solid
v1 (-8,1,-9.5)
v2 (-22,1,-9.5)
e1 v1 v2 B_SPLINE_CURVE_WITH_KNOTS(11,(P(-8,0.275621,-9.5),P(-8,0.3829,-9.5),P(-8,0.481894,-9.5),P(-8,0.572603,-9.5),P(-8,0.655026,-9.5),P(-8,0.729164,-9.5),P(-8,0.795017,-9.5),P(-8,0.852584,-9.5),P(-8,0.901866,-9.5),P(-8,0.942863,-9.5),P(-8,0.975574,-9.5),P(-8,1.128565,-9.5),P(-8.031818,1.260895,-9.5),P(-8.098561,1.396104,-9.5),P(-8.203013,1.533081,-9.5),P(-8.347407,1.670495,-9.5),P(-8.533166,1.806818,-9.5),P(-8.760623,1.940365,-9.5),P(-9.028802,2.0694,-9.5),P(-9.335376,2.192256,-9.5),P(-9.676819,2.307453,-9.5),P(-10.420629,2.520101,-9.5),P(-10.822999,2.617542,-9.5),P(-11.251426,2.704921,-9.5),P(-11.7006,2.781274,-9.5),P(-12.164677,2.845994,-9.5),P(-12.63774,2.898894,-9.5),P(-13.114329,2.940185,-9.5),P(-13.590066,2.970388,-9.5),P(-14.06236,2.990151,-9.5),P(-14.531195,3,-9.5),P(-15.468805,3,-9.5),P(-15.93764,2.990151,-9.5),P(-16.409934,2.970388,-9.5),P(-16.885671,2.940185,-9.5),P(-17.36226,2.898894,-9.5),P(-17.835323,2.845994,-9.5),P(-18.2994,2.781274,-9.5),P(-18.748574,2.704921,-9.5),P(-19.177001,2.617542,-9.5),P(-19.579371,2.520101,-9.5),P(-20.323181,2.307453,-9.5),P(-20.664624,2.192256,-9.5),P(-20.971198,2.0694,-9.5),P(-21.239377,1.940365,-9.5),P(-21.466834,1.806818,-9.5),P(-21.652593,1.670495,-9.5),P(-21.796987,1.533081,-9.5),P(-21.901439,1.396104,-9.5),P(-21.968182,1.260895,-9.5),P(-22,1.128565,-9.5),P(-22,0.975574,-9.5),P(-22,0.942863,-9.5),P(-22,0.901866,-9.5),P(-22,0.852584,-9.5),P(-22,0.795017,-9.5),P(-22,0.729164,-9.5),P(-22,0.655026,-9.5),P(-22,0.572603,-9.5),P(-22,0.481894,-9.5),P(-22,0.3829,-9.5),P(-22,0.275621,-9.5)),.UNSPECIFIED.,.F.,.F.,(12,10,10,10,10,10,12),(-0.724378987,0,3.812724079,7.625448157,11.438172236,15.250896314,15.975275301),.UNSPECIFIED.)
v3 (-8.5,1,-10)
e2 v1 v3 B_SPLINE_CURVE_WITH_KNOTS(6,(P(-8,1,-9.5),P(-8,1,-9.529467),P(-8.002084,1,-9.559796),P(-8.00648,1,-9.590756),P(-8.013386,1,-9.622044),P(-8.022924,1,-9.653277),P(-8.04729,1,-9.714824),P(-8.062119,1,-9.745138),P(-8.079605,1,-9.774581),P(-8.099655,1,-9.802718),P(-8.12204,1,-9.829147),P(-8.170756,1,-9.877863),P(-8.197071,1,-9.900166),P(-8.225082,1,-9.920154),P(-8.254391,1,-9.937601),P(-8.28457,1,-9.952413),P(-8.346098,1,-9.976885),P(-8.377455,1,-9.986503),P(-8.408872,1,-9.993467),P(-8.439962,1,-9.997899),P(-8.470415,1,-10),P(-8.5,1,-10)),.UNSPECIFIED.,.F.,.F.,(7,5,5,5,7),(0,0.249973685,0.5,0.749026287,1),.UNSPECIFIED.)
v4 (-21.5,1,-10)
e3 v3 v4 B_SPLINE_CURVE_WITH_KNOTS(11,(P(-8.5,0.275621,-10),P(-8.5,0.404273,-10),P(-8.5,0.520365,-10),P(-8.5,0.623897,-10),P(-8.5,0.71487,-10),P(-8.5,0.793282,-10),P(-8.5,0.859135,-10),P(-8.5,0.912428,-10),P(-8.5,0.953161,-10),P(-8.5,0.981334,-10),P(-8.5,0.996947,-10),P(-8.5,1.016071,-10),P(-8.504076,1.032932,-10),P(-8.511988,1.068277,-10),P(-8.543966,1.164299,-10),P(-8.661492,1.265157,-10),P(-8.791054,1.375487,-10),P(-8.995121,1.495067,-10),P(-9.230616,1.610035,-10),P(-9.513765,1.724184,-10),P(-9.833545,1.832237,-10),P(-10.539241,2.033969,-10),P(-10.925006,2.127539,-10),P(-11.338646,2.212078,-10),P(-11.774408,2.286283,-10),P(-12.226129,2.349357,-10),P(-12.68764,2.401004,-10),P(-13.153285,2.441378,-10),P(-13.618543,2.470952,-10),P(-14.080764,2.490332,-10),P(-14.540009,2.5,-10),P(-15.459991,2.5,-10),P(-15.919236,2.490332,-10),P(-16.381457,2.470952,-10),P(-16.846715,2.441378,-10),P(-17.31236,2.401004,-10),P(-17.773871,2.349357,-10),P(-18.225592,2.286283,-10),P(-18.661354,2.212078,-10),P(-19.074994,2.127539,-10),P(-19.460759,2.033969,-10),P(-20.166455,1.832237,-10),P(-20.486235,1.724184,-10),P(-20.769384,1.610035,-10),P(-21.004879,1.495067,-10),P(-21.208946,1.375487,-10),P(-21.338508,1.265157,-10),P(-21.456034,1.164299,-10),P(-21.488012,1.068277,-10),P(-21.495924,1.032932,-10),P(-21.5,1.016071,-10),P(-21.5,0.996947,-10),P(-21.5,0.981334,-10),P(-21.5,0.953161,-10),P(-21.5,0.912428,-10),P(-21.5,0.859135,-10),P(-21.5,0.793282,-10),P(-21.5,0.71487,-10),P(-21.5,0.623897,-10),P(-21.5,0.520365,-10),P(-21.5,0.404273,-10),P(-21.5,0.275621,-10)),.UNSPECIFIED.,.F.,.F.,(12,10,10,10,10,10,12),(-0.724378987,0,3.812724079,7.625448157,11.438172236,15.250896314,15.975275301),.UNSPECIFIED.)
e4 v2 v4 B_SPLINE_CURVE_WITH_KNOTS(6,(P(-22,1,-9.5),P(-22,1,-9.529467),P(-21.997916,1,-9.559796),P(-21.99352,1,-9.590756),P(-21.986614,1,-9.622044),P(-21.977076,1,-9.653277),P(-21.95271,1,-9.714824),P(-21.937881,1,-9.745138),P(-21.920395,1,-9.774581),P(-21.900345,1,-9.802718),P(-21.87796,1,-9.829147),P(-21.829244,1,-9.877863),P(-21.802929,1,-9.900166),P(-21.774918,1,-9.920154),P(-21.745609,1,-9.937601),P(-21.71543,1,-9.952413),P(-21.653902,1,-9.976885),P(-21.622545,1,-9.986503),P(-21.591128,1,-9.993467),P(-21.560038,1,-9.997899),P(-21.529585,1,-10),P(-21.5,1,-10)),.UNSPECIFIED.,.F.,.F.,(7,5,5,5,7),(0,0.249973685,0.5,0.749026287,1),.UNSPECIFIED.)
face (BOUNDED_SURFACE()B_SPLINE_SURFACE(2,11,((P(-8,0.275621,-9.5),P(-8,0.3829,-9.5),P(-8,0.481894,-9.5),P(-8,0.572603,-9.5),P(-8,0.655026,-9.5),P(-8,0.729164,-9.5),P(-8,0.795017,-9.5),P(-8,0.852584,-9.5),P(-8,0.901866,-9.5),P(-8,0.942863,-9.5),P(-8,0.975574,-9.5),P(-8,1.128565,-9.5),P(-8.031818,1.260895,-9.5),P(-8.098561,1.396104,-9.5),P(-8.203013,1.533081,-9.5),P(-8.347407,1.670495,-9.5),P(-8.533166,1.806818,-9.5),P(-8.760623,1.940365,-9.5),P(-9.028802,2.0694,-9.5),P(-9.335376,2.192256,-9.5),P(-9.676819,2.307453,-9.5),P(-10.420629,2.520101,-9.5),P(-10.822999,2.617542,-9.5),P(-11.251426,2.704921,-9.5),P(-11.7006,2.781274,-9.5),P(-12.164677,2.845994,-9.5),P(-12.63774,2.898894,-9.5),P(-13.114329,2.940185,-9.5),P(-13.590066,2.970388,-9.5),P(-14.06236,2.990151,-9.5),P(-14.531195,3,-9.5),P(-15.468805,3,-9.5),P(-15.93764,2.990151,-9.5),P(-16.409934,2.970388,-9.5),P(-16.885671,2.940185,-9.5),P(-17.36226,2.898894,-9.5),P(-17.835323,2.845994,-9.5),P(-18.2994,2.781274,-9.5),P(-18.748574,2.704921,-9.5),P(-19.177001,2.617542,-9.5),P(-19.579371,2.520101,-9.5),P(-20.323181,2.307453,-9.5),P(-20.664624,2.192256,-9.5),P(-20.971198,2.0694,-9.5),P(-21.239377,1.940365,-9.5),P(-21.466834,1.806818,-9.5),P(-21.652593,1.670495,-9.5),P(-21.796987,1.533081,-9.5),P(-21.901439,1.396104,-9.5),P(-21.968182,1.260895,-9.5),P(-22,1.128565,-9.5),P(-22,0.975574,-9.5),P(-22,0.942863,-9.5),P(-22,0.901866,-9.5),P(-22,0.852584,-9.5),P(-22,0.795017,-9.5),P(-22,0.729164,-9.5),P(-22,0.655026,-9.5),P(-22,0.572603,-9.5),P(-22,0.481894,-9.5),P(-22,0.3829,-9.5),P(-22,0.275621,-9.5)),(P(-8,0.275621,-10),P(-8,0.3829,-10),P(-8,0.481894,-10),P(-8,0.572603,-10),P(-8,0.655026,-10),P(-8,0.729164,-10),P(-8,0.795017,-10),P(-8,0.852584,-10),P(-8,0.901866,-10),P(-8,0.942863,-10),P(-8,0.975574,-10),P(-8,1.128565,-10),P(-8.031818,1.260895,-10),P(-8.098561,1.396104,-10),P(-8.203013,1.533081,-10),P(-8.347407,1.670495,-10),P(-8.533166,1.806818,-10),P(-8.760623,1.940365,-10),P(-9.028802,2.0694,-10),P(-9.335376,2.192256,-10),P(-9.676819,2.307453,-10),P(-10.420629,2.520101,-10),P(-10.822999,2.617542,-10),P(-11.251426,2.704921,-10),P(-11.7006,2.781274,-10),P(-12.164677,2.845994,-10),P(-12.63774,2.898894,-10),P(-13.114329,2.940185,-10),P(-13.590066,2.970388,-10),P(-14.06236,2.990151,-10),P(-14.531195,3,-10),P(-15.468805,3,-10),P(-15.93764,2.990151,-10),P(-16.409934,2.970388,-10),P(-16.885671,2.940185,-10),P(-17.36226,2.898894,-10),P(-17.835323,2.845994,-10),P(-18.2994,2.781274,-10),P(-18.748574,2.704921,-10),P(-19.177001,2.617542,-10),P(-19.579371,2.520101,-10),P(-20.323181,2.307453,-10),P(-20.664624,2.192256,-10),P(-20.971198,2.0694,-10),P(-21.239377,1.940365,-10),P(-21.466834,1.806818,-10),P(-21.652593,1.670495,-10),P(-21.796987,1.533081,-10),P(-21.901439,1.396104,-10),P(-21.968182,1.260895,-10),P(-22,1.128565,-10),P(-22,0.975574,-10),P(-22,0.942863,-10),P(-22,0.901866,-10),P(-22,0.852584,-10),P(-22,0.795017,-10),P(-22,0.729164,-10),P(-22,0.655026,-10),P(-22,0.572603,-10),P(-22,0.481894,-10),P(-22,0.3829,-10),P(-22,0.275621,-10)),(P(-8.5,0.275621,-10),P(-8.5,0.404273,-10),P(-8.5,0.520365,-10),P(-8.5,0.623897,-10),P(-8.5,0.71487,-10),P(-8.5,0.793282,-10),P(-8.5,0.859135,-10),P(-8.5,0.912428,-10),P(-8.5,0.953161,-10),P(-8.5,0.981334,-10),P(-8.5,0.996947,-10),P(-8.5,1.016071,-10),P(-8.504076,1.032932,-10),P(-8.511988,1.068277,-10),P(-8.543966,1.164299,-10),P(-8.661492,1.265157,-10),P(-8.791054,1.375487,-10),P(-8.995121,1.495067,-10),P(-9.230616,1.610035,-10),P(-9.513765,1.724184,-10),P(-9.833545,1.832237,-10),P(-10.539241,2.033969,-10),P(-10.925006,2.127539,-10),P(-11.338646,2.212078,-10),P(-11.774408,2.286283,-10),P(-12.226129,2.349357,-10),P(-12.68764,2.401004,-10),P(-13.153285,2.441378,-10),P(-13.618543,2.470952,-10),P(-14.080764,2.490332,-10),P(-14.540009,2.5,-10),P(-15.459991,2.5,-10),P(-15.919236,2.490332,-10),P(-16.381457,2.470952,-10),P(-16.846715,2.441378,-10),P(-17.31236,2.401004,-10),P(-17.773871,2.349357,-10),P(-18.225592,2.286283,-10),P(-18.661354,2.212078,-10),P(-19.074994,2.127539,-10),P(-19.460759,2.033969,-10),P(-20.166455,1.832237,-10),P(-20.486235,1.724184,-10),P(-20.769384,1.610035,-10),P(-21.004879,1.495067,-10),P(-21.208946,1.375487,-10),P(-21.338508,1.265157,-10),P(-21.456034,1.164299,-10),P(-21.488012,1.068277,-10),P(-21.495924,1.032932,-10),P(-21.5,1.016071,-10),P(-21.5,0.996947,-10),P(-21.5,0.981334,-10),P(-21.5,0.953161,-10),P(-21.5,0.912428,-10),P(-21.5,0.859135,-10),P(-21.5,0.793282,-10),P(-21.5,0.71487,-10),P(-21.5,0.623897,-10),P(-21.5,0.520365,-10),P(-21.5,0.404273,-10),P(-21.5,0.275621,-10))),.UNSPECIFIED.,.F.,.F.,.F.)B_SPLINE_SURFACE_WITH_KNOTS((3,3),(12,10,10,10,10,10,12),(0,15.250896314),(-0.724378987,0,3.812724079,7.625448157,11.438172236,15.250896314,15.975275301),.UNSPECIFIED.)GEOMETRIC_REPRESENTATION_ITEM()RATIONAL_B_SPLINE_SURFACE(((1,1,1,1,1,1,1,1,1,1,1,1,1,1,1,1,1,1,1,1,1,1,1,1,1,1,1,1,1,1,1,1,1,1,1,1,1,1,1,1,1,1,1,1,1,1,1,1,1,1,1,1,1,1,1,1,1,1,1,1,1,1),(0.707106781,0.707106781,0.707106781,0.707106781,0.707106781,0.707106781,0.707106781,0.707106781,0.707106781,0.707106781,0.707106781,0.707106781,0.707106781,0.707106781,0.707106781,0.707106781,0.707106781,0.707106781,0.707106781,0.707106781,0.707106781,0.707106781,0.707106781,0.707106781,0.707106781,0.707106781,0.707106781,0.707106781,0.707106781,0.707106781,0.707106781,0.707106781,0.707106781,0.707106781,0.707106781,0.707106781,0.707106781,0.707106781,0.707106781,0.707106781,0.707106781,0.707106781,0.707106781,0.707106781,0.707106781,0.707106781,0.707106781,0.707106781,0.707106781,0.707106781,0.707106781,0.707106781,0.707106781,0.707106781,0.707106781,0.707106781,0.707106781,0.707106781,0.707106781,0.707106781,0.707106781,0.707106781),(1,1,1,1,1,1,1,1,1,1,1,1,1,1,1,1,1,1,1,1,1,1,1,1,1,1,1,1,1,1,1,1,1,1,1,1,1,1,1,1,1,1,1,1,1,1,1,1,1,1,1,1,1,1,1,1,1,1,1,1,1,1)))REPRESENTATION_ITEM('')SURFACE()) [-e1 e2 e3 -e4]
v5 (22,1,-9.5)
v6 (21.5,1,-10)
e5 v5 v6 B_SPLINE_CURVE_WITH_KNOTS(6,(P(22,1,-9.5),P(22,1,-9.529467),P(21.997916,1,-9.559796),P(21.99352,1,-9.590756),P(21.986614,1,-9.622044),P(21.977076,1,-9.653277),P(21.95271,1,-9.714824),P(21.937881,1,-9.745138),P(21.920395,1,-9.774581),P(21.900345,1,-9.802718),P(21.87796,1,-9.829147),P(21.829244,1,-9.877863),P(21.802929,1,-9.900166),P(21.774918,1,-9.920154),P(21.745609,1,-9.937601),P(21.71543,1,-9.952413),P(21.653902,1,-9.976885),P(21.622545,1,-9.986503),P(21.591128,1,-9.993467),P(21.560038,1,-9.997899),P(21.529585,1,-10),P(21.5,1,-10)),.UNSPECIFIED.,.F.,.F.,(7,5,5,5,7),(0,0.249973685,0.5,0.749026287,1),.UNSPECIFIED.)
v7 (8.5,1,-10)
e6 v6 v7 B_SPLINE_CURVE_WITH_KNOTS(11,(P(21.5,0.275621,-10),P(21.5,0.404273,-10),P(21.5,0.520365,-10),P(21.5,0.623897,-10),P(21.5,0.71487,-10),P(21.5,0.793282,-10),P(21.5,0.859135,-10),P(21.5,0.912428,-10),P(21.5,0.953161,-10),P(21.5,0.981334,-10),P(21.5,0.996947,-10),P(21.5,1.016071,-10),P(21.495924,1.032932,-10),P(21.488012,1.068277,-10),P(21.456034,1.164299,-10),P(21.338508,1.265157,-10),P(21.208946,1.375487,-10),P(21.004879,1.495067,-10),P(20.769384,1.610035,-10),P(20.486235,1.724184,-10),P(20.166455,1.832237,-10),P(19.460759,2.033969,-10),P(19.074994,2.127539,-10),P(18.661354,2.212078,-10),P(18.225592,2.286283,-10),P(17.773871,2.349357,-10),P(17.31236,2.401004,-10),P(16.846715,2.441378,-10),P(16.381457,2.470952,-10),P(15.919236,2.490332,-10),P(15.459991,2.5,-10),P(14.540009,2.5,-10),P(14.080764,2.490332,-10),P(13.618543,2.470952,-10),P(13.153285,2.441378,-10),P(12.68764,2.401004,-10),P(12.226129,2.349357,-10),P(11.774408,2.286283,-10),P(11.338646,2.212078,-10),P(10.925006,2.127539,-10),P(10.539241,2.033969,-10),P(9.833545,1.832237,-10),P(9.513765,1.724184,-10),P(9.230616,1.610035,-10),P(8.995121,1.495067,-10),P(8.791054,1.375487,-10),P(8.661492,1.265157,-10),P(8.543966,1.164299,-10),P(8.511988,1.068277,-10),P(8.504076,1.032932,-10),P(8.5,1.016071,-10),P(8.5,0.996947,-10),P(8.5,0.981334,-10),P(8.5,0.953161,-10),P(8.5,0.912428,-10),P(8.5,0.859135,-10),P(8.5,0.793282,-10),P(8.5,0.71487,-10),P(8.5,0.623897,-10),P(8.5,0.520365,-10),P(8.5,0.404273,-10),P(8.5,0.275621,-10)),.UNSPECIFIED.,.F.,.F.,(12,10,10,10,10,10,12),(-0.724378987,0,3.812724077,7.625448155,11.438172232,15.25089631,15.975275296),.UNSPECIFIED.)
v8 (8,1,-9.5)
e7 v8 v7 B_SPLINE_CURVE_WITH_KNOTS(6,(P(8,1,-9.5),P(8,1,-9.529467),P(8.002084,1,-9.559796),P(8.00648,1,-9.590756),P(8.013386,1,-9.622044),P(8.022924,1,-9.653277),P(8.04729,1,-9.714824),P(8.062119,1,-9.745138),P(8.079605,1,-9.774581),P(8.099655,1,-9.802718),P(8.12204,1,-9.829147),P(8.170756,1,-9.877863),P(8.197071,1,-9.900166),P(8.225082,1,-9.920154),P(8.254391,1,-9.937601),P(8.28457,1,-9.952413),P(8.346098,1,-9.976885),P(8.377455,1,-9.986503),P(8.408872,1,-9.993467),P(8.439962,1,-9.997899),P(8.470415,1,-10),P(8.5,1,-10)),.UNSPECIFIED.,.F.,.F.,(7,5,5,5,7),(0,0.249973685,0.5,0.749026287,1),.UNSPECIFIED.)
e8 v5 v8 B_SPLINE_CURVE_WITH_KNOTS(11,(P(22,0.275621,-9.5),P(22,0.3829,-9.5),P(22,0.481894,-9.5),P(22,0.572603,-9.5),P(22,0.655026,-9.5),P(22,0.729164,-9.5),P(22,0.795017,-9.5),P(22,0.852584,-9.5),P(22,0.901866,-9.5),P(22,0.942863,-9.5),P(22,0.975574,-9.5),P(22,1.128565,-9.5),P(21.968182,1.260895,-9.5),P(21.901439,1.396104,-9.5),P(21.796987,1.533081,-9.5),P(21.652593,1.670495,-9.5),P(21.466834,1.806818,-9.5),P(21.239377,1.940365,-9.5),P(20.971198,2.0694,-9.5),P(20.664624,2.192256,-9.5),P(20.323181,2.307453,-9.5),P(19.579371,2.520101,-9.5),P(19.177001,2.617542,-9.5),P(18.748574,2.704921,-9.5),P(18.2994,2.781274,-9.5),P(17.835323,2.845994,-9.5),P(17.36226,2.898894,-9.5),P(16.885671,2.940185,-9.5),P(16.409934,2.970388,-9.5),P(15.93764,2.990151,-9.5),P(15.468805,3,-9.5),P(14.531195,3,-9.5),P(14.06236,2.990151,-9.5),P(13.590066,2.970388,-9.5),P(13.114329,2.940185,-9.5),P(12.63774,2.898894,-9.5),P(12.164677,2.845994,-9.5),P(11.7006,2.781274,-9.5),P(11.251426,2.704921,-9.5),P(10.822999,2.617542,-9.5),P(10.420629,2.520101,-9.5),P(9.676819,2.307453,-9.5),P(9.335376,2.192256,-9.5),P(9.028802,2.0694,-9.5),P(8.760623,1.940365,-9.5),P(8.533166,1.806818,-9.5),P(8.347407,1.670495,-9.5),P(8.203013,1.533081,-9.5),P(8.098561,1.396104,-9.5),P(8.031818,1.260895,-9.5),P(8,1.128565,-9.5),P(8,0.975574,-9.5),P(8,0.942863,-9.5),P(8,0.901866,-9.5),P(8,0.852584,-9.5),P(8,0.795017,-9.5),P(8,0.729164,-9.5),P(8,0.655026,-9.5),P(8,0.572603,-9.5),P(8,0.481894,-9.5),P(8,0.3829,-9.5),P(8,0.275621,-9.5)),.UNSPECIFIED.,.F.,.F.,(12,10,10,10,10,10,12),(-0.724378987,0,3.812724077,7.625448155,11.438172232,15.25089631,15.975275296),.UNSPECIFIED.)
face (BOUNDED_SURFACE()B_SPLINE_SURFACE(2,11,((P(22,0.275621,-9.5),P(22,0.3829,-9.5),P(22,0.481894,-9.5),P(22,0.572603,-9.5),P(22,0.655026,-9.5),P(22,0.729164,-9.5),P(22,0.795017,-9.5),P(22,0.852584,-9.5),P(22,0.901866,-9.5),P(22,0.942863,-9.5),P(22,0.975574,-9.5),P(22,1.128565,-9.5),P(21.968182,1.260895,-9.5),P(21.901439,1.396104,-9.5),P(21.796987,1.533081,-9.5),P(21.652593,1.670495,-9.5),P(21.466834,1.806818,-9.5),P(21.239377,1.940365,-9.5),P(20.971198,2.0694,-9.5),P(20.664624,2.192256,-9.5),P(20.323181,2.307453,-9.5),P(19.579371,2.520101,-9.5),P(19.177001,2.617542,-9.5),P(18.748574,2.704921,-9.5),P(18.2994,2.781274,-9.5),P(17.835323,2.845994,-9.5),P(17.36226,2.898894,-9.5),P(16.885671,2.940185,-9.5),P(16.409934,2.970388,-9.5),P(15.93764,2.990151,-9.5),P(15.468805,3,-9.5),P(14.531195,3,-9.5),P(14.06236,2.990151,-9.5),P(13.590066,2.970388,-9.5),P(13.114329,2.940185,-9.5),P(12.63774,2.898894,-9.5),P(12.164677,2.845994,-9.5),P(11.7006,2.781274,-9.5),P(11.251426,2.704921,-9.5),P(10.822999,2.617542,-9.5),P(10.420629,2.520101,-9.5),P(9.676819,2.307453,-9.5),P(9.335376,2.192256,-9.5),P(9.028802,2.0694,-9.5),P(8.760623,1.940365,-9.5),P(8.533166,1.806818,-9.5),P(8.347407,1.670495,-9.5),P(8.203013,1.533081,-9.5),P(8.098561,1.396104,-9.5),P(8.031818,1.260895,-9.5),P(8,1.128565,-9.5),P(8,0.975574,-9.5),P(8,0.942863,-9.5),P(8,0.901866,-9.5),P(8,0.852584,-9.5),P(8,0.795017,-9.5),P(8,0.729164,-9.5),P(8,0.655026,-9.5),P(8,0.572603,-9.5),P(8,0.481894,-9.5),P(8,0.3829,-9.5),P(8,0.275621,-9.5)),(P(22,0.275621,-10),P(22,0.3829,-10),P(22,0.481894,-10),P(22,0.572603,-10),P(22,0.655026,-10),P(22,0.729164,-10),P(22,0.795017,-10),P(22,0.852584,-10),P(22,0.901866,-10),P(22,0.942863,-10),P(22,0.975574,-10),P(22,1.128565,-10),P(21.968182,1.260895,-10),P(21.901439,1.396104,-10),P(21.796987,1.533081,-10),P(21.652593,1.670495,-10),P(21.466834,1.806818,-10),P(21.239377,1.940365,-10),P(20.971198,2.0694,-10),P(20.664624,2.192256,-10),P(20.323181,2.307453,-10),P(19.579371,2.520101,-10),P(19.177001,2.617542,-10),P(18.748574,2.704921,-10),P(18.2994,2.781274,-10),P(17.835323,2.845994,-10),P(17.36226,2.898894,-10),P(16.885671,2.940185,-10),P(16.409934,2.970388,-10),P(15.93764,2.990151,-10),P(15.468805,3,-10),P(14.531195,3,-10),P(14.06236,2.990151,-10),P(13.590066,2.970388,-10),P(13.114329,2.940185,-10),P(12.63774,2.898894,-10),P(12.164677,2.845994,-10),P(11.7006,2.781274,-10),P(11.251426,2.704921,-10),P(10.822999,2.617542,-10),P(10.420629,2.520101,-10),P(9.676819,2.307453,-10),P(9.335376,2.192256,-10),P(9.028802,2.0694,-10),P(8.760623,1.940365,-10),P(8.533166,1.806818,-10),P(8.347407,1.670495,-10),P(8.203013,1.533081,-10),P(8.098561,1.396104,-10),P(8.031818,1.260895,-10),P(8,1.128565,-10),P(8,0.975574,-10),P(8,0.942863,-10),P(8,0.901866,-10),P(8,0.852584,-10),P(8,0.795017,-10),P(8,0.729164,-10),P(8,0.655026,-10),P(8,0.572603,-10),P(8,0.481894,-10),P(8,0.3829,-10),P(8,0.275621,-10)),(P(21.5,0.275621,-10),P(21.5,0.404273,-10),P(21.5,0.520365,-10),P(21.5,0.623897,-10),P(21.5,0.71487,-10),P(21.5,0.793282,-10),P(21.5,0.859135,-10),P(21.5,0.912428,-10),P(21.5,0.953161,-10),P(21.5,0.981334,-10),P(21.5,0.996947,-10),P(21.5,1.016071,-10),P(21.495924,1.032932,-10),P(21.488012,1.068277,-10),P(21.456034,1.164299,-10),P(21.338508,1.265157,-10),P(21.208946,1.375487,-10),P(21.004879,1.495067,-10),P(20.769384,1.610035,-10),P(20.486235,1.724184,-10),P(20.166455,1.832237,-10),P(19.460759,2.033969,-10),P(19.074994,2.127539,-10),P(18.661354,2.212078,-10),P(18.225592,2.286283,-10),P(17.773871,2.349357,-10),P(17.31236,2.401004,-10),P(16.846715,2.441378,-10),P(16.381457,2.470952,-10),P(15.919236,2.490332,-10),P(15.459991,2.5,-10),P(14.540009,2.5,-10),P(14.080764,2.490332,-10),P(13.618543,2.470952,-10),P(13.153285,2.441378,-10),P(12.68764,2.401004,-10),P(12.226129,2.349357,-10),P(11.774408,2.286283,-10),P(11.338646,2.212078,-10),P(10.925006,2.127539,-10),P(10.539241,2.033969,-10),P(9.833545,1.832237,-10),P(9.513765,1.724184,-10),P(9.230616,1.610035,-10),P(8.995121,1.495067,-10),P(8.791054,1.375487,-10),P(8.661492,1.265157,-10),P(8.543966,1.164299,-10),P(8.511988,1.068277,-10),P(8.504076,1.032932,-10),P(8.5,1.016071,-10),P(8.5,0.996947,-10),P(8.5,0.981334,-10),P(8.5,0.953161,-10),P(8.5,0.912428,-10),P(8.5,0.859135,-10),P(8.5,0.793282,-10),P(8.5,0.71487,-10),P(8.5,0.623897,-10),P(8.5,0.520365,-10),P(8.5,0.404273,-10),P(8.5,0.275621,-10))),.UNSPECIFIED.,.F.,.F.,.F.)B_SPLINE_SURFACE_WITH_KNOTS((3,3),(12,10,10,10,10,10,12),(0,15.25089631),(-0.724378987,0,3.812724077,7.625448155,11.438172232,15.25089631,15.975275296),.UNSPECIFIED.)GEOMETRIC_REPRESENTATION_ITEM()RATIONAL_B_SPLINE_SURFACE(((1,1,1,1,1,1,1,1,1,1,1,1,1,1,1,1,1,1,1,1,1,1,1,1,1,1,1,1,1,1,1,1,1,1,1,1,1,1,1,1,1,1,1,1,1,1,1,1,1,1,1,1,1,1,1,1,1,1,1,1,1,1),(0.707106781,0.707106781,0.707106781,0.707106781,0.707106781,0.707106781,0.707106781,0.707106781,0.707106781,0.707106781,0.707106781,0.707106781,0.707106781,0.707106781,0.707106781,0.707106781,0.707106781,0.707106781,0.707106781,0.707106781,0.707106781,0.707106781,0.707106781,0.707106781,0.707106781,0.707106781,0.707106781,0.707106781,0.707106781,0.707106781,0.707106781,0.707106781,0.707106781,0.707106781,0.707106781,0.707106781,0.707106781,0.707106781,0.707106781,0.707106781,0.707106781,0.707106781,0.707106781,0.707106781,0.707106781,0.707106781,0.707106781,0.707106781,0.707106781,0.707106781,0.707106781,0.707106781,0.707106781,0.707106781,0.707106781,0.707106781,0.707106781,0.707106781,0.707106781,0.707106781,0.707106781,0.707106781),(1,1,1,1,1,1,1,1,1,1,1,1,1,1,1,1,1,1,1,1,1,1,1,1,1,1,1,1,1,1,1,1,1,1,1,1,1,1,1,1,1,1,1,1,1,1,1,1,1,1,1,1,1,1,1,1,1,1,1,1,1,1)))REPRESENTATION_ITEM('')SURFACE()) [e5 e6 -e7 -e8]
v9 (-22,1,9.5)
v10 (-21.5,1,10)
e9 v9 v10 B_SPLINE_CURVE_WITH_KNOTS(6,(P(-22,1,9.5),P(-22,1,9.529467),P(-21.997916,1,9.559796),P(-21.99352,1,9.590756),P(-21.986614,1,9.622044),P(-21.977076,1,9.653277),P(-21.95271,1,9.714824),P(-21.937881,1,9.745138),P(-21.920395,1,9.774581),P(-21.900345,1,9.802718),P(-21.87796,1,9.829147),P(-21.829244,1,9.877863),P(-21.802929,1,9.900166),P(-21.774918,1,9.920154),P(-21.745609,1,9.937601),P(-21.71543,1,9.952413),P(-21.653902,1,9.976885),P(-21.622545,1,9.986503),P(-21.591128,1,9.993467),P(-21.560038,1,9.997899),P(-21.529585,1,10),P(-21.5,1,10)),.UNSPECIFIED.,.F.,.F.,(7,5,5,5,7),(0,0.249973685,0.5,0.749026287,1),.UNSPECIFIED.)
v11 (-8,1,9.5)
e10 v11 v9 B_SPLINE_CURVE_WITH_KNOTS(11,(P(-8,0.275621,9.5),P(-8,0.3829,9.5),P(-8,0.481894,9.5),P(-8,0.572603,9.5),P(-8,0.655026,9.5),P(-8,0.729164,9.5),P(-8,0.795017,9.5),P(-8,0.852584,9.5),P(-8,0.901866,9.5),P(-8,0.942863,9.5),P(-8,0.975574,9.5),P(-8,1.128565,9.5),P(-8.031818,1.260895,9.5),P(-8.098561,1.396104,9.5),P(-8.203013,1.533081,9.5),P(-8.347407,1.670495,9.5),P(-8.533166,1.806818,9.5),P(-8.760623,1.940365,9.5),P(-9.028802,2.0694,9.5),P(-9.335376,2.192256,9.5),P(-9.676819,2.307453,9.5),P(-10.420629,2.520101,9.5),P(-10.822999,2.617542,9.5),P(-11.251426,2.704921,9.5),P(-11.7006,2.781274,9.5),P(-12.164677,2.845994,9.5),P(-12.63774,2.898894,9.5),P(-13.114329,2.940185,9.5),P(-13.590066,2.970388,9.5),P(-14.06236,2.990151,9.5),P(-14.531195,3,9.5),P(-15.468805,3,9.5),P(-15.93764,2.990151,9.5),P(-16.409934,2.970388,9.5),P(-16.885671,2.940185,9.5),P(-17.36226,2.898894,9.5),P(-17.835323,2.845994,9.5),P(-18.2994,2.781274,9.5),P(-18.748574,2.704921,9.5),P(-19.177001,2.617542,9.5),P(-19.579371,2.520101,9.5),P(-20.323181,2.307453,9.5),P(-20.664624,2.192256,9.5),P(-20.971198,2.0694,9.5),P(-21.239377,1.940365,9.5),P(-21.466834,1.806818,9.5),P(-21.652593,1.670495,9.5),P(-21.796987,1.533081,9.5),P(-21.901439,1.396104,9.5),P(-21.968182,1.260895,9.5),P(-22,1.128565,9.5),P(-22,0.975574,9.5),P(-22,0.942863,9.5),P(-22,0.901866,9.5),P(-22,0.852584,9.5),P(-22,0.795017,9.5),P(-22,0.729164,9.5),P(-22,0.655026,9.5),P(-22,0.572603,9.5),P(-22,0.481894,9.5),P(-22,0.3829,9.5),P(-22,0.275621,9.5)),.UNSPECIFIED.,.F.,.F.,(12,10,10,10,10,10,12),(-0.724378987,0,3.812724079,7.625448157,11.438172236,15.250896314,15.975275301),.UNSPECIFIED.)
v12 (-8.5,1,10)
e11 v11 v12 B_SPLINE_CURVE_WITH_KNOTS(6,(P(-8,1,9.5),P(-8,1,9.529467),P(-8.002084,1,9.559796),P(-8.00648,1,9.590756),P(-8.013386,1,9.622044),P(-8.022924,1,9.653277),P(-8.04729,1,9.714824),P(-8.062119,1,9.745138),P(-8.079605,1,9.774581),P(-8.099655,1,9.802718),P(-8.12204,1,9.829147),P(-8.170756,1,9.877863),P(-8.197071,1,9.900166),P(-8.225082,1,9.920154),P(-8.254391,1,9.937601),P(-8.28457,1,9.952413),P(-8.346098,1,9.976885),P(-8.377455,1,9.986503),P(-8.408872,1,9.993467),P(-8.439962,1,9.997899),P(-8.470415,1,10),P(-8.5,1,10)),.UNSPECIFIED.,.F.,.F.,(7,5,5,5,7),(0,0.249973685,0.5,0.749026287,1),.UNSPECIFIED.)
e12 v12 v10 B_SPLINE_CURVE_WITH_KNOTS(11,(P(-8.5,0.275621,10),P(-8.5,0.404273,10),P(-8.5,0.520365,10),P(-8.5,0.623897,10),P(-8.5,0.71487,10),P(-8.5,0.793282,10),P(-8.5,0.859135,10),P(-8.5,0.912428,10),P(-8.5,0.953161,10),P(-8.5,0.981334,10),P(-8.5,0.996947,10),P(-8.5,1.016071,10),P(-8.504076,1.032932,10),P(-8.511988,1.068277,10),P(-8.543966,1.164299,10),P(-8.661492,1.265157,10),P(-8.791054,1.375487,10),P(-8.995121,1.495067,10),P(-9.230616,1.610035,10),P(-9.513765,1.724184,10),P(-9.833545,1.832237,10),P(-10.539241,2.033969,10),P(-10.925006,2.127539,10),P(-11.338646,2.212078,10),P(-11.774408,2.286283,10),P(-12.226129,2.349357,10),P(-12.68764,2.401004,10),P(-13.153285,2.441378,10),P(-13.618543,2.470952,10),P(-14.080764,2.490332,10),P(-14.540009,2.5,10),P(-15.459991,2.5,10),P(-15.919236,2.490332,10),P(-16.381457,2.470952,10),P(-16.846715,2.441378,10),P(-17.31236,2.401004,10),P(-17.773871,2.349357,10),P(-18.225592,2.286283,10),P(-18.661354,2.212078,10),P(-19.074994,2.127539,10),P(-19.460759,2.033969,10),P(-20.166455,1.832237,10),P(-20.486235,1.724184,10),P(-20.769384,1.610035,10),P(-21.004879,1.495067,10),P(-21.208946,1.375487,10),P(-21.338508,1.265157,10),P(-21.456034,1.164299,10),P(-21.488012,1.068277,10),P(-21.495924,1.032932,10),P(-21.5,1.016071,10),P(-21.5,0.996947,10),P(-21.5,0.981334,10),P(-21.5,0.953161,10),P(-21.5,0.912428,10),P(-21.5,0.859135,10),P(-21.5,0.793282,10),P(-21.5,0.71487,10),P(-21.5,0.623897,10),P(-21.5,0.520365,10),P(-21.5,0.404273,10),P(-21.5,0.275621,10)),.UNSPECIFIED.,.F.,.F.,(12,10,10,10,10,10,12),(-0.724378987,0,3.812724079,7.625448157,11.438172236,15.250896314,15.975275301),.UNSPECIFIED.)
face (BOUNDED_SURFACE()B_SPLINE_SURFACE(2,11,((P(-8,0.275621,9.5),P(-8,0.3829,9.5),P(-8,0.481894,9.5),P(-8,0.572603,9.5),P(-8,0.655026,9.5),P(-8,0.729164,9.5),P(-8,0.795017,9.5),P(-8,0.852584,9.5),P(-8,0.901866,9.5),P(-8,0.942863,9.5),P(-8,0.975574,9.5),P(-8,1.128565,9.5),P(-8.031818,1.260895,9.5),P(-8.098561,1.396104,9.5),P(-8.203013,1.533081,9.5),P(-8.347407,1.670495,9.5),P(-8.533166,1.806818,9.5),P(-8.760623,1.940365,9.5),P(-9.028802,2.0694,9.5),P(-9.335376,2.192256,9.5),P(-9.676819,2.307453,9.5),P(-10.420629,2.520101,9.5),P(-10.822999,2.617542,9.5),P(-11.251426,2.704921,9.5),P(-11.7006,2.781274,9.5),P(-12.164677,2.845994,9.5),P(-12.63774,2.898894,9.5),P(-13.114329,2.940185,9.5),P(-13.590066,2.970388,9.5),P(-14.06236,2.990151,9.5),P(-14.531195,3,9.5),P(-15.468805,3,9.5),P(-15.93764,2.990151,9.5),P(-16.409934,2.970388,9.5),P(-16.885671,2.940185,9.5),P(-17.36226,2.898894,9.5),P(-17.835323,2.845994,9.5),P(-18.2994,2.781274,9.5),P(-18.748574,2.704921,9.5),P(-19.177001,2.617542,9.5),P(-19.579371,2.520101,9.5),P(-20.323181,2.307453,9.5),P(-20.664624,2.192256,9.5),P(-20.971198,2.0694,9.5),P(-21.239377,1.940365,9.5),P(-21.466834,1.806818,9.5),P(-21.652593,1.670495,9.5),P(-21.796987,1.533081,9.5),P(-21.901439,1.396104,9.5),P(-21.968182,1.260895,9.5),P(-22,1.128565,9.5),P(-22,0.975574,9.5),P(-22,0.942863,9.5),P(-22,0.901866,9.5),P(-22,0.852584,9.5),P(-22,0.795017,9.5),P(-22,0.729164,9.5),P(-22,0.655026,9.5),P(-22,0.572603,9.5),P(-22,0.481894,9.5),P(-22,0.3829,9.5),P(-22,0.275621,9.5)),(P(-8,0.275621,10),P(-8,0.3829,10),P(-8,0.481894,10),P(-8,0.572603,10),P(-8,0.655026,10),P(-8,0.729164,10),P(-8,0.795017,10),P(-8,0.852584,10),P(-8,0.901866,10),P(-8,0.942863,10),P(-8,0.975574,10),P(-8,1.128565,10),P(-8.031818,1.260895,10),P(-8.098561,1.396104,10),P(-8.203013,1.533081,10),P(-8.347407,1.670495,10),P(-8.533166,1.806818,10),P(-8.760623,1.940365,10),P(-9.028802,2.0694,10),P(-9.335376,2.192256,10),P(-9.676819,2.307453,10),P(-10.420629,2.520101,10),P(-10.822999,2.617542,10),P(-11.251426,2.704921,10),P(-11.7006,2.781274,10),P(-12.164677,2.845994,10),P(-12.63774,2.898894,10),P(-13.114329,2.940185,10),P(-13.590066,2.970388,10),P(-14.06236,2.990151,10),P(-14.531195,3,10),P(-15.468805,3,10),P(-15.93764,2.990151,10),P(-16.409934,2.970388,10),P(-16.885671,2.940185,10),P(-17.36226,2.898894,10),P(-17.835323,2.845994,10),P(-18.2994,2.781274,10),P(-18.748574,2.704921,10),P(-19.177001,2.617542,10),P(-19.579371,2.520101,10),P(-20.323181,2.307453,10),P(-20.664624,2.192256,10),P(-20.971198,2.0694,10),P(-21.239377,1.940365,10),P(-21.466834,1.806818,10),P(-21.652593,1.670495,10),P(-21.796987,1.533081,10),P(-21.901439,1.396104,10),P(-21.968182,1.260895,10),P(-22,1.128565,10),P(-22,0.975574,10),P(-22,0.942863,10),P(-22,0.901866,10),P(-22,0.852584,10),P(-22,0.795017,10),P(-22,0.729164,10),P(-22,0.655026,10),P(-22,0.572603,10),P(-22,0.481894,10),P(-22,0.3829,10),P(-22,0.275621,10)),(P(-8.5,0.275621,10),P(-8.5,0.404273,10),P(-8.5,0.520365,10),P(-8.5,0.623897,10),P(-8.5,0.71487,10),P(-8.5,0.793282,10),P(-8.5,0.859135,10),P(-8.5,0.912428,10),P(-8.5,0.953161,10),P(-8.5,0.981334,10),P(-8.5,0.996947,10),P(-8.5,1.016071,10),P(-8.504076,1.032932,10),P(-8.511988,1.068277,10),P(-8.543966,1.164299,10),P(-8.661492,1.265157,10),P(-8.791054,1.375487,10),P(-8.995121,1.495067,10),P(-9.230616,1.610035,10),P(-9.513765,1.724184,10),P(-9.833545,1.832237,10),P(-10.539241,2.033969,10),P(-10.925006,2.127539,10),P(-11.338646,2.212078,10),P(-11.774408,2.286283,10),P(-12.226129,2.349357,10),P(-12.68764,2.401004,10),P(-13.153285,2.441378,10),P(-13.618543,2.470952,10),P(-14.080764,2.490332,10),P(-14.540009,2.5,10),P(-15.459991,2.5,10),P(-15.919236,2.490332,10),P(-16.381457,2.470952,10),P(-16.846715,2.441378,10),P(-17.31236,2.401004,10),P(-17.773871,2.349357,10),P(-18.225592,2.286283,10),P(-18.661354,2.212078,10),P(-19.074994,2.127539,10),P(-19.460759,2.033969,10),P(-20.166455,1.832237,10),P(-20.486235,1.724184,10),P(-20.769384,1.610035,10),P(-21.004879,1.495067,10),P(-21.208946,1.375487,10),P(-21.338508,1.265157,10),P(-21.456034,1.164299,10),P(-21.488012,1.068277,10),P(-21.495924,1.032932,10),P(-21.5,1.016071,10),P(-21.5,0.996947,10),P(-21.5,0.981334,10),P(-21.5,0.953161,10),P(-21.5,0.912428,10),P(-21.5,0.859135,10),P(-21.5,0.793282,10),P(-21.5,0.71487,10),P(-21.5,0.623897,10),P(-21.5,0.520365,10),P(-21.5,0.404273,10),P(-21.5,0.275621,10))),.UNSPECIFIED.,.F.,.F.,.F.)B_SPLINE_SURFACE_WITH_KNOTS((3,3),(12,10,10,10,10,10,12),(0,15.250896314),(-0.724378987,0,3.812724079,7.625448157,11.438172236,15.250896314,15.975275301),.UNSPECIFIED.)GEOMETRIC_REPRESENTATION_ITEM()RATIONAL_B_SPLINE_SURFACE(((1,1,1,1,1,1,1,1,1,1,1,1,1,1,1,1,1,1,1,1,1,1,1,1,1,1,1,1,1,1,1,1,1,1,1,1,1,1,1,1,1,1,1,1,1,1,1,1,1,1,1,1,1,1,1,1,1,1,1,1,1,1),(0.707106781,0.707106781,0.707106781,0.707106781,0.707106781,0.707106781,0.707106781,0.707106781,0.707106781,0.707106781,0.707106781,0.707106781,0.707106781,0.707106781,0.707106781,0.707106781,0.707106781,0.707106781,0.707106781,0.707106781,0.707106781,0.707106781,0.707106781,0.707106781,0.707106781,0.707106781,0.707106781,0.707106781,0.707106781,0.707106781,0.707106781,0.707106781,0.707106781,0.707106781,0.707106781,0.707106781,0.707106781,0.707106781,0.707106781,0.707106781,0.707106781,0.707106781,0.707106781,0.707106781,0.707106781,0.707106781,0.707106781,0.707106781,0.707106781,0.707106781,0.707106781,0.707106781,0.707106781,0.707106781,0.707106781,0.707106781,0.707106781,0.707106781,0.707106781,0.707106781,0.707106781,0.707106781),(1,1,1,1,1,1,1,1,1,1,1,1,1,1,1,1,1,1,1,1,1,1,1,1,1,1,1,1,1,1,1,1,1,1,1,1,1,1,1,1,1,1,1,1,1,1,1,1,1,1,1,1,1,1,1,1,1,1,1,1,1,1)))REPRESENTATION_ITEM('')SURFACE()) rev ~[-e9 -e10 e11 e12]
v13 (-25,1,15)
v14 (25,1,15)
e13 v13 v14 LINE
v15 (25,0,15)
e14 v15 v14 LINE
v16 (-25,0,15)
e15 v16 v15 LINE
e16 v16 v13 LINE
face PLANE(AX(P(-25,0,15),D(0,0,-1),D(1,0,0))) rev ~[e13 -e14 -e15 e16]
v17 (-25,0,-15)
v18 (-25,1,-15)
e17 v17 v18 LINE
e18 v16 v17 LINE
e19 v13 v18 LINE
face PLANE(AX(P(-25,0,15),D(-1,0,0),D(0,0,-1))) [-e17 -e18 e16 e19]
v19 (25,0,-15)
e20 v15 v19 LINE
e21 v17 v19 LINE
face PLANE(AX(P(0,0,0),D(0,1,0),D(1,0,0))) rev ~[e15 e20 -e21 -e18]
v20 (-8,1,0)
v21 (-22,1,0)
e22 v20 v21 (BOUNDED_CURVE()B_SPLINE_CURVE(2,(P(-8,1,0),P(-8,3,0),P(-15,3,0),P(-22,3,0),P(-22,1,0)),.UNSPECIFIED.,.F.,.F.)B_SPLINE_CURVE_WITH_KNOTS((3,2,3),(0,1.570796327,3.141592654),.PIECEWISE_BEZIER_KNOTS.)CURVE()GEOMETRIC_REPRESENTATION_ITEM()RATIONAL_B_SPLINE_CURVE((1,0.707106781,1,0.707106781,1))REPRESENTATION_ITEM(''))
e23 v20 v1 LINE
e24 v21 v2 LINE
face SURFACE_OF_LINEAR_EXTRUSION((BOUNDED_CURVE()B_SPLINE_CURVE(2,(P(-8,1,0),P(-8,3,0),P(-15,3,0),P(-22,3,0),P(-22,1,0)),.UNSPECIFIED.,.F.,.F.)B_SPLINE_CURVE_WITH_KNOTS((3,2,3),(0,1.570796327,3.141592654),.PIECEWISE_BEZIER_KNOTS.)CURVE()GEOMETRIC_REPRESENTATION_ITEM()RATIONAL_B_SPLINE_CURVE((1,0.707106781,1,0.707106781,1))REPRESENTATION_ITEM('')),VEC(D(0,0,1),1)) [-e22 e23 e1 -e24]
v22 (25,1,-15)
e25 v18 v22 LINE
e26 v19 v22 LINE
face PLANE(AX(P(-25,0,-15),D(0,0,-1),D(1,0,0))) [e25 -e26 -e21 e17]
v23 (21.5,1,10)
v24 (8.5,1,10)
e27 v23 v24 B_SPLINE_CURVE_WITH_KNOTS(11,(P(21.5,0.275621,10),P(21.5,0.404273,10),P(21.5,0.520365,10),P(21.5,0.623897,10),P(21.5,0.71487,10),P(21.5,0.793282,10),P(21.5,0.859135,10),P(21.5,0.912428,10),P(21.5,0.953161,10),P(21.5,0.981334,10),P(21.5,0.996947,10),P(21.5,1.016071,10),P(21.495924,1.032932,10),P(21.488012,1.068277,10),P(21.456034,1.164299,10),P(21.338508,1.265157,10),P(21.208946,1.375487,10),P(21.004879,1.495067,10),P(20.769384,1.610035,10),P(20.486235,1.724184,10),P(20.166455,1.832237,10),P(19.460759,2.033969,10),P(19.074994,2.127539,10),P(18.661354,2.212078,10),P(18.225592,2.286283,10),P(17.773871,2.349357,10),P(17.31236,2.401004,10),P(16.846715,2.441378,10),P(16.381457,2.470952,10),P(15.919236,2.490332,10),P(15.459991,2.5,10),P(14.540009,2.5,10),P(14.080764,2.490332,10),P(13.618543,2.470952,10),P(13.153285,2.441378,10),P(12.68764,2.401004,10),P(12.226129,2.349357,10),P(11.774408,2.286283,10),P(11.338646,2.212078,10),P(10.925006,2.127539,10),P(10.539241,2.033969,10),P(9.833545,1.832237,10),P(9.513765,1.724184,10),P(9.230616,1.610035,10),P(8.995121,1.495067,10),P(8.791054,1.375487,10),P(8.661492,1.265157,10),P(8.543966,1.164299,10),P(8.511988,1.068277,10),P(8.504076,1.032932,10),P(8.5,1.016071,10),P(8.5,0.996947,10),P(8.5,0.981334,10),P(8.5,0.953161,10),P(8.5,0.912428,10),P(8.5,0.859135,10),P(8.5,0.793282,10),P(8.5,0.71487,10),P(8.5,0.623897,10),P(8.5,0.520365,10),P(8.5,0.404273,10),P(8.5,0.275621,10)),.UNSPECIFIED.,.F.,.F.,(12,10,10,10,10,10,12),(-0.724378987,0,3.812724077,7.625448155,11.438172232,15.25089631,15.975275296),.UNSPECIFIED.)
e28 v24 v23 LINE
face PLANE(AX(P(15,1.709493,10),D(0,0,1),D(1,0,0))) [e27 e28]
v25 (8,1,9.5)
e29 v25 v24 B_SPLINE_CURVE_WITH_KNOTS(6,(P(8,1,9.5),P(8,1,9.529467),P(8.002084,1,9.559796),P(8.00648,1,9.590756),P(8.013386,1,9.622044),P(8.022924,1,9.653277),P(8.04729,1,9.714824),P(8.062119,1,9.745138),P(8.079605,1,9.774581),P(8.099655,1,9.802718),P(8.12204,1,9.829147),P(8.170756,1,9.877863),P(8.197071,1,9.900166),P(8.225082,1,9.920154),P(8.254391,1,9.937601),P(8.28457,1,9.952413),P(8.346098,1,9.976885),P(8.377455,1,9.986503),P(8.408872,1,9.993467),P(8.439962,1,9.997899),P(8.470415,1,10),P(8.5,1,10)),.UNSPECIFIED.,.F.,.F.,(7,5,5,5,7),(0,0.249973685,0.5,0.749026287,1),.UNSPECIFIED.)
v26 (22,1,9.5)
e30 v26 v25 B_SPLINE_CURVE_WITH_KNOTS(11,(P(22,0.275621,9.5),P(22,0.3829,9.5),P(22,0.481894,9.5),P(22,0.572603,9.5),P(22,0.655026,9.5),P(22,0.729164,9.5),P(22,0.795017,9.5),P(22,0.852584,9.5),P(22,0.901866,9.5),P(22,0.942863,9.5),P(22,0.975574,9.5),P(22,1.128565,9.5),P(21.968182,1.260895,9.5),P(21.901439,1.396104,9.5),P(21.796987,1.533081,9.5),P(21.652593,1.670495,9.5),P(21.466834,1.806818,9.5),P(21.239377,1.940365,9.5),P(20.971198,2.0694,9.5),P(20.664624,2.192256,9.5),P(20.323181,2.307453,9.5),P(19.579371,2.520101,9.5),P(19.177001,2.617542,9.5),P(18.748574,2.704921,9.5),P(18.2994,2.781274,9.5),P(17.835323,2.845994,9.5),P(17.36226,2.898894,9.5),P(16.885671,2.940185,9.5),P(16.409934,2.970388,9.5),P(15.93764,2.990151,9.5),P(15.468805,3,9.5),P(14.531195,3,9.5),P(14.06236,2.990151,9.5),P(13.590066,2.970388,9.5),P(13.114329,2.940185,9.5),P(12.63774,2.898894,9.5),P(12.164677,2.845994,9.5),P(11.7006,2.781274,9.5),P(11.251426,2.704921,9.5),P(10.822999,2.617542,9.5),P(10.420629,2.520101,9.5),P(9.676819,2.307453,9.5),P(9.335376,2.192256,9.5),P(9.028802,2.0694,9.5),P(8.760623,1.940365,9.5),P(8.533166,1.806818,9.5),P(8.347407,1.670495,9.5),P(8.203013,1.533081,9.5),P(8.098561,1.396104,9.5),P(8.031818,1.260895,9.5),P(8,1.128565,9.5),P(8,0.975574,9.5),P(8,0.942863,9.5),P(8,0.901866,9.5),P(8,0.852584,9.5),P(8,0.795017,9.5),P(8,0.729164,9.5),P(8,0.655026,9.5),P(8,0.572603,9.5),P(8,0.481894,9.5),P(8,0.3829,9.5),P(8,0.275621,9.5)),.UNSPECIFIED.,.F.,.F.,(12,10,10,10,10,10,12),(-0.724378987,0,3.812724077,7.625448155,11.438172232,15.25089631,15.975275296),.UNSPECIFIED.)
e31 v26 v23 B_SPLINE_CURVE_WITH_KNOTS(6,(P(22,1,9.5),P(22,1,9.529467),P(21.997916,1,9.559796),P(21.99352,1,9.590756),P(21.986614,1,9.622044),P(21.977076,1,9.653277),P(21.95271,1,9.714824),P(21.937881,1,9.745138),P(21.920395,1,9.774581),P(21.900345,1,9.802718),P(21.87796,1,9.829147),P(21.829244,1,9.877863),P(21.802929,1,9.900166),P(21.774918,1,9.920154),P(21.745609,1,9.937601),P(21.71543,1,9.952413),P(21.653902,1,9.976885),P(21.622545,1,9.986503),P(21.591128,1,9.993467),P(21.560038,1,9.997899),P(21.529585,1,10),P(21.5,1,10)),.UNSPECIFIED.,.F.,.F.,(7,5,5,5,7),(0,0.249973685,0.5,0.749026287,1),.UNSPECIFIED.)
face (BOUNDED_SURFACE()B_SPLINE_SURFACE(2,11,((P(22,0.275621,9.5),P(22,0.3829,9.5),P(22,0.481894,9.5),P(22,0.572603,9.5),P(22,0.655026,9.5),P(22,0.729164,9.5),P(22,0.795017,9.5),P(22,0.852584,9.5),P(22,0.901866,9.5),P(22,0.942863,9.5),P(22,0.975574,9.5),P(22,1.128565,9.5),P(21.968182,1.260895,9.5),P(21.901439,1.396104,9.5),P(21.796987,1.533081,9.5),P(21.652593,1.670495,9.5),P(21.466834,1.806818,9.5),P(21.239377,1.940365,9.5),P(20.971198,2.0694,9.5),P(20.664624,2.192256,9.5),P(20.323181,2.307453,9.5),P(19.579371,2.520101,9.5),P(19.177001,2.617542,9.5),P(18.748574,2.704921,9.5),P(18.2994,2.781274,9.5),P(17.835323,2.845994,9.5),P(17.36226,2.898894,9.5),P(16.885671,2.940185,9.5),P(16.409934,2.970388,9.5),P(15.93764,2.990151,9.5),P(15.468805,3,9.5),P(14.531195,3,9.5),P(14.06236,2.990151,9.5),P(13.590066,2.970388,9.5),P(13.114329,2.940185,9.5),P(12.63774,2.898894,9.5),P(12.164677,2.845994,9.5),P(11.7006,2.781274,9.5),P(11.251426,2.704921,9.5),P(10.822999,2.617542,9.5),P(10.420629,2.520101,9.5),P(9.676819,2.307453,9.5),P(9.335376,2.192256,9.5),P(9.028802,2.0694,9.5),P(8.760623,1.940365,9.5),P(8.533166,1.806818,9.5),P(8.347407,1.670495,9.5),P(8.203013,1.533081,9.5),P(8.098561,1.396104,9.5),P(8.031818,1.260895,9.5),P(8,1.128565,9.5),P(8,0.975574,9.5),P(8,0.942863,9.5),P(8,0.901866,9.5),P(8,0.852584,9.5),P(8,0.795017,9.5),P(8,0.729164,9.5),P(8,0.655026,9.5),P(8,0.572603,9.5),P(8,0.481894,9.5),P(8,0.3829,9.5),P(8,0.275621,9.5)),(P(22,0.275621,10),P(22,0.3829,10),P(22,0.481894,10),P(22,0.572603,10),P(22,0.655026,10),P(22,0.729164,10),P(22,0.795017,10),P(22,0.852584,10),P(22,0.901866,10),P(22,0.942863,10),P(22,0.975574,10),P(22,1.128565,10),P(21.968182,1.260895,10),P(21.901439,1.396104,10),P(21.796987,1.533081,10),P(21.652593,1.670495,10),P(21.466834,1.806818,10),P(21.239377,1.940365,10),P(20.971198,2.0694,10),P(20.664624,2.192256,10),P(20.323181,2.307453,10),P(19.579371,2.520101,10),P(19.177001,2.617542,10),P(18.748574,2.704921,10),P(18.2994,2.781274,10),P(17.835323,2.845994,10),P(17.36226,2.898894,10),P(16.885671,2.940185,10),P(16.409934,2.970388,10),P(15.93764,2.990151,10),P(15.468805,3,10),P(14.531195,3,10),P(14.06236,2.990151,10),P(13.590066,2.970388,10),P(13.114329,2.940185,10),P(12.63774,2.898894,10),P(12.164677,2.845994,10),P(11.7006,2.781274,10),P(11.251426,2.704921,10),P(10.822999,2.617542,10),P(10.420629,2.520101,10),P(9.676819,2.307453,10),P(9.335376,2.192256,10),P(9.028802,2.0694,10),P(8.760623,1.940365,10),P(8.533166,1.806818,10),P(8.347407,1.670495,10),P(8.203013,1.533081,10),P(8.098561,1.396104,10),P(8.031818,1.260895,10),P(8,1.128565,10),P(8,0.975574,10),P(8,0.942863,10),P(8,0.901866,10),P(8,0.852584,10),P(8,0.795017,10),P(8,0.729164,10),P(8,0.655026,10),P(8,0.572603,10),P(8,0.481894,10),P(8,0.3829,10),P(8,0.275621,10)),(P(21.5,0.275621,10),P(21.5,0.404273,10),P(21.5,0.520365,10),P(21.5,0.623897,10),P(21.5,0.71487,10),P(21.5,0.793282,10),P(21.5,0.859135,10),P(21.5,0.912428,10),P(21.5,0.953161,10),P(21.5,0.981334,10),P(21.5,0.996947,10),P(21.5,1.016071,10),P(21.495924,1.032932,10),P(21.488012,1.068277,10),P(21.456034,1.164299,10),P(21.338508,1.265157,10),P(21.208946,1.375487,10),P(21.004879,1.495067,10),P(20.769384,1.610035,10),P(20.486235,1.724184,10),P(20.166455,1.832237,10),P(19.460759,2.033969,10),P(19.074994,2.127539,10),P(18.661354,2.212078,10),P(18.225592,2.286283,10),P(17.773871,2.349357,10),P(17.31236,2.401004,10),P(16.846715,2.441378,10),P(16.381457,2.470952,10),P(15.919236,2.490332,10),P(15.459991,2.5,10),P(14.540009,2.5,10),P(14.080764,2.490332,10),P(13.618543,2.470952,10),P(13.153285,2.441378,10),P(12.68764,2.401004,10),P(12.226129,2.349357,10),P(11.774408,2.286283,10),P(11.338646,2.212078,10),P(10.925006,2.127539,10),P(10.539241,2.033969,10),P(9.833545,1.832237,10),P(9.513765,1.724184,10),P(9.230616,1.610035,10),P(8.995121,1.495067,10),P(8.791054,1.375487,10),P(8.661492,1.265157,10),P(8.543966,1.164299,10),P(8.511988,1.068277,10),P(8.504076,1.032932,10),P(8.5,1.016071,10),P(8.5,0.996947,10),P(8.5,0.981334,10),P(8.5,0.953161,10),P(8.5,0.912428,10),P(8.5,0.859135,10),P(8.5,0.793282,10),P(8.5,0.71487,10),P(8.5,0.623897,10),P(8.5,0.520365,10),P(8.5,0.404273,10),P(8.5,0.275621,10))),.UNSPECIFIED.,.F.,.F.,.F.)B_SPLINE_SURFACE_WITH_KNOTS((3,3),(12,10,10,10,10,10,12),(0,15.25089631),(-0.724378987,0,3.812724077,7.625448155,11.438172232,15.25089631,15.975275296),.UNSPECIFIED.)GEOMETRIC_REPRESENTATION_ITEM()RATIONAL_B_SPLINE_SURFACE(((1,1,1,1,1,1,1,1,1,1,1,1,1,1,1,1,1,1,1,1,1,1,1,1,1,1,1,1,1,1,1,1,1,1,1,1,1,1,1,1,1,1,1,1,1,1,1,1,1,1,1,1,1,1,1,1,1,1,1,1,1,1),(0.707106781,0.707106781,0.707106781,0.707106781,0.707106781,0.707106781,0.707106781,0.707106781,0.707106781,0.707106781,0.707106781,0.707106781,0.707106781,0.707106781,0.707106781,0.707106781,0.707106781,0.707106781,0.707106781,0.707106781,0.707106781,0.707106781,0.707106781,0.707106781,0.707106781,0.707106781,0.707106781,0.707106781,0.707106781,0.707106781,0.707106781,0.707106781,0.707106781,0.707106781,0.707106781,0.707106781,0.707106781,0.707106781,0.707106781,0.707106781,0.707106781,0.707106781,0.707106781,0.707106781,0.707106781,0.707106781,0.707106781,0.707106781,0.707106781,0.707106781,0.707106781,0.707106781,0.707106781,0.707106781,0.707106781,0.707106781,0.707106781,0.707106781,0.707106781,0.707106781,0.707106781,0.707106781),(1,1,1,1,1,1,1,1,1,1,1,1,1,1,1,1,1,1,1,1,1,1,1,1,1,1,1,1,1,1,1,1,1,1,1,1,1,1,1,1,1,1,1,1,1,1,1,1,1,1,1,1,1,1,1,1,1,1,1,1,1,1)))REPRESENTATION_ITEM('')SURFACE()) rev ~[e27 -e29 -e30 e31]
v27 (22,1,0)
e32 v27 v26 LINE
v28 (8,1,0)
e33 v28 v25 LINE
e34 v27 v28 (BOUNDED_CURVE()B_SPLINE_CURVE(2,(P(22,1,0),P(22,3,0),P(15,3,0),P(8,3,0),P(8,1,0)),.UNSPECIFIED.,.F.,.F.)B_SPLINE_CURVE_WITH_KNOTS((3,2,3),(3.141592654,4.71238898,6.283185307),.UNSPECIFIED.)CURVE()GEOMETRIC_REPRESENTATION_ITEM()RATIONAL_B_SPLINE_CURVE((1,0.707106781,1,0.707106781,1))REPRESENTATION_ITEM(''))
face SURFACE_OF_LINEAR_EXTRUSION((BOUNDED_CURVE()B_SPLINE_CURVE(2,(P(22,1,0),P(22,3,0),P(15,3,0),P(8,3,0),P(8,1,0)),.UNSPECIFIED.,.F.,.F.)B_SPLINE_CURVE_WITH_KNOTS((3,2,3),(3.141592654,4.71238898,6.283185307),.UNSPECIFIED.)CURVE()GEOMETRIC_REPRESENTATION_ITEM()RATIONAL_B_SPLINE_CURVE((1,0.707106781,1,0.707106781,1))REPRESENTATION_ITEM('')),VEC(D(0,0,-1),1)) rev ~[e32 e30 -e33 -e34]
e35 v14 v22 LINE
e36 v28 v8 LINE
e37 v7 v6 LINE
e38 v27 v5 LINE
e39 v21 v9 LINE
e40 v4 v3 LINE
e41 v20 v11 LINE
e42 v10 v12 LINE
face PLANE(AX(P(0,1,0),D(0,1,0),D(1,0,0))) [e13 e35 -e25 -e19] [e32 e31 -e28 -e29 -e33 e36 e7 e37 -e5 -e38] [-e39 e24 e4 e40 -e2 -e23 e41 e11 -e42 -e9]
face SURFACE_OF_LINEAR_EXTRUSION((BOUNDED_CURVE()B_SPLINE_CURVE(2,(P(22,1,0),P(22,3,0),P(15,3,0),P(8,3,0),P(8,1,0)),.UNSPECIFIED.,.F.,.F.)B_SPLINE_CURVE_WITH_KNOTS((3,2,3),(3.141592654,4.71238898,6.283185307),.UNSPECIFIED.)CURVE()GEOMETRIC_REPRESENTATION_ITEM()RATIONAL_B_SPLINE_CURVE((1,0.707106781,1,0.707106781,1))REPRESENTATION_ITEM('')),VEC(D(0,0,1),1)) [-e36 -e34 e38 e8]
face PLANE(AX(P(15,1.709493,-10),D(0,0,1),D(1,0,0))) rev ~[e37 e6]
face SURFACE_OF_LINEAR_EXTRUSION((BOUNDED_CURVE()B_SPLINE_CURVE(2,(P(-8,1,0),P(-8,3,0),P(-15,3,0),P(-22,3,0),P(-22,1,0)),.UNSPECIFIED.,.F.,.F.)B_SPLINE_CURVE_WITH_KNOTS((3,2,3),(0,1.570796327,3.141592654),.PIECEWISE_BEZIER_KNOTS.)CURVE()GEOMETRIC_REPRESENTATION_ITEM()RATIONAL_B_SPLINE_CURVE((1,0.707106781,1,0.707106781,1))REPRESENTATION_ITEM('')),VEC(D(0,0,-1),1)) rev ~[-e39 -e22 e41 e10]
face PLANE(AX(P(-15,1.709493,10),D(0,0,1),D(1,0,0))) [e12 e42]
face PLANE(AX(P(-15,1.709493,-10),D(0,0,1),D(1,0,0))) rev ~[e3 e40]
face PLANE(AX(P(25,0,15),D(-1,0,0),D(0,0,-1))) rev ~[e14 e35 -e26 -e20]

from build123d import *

# Parameters (mm, degrees)
SKETCH_1_W      = 50
SKETCH_1_H      = 30
EXTRUDE_1_DEPTH = 1
EXTRUDE_2_DEPTH = 10
FILLET_2_R      = 0.5


with BuildPart() as part:
    # Эскиз1 → Бобышка-Вытянуть1 (new body)
    with BuildSketch(Plane(origin=(0, 0, 0), x_dir=(1, 0, 0), z_dir=(0, 1, 0))):
        Rectangle(SKETCH_1_W, SKETCH_1_H)
    extrude(amount=EXTRUDE_1_DEPTH)

    # Эскиз2 → Бобышка-Вытянуть2 (add, symmetric)
    with BuildSketch(Plane.XY):
        with BuildLine():
            Line((-22, 1), (-8, 1))
            add(Edge.make_bspline(
                [(-8, 1), (-8, 3), (-15, 3), (-22, 3), (-22, 1)],
                knots=[0, 0, 0, 1.570796327, 1.570796327, 3.141592654, 3.141592654, 3.141592654], degree=2, weights=[1, 0.707106781, 1, 0.707106781, 1]))
        make_face()
        with BuildLine():
            Line((8, 1), (22, 1))
            add(Edge.make_bspline(
                [(22, 1), (22, 3), (15, 3), (8, 3), (8, 1)],
                knots=[3.141592654, 3.141592654, 3.141592654, 4.71238898, 4.71238898, 6.283185307, 6.283185307, 6.283185307], degree=2, weights=[1, 0.707106781, 1, 0.707106781, 1]))
        make_face()
    extrude(amount=EXTRUDE_2_DEPTH, both=True)

    # Скругление2
    fillet_2_edges = [part.edges().sort_by_distance(p)[0] for p in [
        (-15, 3, -10),
        (-15, 3, 10),
        (15, 3, -10),
        (15, 3, 10),
    ]]
    fillet(fillet_2_edges, radius=FILLET_2_R)


solid = part.part
